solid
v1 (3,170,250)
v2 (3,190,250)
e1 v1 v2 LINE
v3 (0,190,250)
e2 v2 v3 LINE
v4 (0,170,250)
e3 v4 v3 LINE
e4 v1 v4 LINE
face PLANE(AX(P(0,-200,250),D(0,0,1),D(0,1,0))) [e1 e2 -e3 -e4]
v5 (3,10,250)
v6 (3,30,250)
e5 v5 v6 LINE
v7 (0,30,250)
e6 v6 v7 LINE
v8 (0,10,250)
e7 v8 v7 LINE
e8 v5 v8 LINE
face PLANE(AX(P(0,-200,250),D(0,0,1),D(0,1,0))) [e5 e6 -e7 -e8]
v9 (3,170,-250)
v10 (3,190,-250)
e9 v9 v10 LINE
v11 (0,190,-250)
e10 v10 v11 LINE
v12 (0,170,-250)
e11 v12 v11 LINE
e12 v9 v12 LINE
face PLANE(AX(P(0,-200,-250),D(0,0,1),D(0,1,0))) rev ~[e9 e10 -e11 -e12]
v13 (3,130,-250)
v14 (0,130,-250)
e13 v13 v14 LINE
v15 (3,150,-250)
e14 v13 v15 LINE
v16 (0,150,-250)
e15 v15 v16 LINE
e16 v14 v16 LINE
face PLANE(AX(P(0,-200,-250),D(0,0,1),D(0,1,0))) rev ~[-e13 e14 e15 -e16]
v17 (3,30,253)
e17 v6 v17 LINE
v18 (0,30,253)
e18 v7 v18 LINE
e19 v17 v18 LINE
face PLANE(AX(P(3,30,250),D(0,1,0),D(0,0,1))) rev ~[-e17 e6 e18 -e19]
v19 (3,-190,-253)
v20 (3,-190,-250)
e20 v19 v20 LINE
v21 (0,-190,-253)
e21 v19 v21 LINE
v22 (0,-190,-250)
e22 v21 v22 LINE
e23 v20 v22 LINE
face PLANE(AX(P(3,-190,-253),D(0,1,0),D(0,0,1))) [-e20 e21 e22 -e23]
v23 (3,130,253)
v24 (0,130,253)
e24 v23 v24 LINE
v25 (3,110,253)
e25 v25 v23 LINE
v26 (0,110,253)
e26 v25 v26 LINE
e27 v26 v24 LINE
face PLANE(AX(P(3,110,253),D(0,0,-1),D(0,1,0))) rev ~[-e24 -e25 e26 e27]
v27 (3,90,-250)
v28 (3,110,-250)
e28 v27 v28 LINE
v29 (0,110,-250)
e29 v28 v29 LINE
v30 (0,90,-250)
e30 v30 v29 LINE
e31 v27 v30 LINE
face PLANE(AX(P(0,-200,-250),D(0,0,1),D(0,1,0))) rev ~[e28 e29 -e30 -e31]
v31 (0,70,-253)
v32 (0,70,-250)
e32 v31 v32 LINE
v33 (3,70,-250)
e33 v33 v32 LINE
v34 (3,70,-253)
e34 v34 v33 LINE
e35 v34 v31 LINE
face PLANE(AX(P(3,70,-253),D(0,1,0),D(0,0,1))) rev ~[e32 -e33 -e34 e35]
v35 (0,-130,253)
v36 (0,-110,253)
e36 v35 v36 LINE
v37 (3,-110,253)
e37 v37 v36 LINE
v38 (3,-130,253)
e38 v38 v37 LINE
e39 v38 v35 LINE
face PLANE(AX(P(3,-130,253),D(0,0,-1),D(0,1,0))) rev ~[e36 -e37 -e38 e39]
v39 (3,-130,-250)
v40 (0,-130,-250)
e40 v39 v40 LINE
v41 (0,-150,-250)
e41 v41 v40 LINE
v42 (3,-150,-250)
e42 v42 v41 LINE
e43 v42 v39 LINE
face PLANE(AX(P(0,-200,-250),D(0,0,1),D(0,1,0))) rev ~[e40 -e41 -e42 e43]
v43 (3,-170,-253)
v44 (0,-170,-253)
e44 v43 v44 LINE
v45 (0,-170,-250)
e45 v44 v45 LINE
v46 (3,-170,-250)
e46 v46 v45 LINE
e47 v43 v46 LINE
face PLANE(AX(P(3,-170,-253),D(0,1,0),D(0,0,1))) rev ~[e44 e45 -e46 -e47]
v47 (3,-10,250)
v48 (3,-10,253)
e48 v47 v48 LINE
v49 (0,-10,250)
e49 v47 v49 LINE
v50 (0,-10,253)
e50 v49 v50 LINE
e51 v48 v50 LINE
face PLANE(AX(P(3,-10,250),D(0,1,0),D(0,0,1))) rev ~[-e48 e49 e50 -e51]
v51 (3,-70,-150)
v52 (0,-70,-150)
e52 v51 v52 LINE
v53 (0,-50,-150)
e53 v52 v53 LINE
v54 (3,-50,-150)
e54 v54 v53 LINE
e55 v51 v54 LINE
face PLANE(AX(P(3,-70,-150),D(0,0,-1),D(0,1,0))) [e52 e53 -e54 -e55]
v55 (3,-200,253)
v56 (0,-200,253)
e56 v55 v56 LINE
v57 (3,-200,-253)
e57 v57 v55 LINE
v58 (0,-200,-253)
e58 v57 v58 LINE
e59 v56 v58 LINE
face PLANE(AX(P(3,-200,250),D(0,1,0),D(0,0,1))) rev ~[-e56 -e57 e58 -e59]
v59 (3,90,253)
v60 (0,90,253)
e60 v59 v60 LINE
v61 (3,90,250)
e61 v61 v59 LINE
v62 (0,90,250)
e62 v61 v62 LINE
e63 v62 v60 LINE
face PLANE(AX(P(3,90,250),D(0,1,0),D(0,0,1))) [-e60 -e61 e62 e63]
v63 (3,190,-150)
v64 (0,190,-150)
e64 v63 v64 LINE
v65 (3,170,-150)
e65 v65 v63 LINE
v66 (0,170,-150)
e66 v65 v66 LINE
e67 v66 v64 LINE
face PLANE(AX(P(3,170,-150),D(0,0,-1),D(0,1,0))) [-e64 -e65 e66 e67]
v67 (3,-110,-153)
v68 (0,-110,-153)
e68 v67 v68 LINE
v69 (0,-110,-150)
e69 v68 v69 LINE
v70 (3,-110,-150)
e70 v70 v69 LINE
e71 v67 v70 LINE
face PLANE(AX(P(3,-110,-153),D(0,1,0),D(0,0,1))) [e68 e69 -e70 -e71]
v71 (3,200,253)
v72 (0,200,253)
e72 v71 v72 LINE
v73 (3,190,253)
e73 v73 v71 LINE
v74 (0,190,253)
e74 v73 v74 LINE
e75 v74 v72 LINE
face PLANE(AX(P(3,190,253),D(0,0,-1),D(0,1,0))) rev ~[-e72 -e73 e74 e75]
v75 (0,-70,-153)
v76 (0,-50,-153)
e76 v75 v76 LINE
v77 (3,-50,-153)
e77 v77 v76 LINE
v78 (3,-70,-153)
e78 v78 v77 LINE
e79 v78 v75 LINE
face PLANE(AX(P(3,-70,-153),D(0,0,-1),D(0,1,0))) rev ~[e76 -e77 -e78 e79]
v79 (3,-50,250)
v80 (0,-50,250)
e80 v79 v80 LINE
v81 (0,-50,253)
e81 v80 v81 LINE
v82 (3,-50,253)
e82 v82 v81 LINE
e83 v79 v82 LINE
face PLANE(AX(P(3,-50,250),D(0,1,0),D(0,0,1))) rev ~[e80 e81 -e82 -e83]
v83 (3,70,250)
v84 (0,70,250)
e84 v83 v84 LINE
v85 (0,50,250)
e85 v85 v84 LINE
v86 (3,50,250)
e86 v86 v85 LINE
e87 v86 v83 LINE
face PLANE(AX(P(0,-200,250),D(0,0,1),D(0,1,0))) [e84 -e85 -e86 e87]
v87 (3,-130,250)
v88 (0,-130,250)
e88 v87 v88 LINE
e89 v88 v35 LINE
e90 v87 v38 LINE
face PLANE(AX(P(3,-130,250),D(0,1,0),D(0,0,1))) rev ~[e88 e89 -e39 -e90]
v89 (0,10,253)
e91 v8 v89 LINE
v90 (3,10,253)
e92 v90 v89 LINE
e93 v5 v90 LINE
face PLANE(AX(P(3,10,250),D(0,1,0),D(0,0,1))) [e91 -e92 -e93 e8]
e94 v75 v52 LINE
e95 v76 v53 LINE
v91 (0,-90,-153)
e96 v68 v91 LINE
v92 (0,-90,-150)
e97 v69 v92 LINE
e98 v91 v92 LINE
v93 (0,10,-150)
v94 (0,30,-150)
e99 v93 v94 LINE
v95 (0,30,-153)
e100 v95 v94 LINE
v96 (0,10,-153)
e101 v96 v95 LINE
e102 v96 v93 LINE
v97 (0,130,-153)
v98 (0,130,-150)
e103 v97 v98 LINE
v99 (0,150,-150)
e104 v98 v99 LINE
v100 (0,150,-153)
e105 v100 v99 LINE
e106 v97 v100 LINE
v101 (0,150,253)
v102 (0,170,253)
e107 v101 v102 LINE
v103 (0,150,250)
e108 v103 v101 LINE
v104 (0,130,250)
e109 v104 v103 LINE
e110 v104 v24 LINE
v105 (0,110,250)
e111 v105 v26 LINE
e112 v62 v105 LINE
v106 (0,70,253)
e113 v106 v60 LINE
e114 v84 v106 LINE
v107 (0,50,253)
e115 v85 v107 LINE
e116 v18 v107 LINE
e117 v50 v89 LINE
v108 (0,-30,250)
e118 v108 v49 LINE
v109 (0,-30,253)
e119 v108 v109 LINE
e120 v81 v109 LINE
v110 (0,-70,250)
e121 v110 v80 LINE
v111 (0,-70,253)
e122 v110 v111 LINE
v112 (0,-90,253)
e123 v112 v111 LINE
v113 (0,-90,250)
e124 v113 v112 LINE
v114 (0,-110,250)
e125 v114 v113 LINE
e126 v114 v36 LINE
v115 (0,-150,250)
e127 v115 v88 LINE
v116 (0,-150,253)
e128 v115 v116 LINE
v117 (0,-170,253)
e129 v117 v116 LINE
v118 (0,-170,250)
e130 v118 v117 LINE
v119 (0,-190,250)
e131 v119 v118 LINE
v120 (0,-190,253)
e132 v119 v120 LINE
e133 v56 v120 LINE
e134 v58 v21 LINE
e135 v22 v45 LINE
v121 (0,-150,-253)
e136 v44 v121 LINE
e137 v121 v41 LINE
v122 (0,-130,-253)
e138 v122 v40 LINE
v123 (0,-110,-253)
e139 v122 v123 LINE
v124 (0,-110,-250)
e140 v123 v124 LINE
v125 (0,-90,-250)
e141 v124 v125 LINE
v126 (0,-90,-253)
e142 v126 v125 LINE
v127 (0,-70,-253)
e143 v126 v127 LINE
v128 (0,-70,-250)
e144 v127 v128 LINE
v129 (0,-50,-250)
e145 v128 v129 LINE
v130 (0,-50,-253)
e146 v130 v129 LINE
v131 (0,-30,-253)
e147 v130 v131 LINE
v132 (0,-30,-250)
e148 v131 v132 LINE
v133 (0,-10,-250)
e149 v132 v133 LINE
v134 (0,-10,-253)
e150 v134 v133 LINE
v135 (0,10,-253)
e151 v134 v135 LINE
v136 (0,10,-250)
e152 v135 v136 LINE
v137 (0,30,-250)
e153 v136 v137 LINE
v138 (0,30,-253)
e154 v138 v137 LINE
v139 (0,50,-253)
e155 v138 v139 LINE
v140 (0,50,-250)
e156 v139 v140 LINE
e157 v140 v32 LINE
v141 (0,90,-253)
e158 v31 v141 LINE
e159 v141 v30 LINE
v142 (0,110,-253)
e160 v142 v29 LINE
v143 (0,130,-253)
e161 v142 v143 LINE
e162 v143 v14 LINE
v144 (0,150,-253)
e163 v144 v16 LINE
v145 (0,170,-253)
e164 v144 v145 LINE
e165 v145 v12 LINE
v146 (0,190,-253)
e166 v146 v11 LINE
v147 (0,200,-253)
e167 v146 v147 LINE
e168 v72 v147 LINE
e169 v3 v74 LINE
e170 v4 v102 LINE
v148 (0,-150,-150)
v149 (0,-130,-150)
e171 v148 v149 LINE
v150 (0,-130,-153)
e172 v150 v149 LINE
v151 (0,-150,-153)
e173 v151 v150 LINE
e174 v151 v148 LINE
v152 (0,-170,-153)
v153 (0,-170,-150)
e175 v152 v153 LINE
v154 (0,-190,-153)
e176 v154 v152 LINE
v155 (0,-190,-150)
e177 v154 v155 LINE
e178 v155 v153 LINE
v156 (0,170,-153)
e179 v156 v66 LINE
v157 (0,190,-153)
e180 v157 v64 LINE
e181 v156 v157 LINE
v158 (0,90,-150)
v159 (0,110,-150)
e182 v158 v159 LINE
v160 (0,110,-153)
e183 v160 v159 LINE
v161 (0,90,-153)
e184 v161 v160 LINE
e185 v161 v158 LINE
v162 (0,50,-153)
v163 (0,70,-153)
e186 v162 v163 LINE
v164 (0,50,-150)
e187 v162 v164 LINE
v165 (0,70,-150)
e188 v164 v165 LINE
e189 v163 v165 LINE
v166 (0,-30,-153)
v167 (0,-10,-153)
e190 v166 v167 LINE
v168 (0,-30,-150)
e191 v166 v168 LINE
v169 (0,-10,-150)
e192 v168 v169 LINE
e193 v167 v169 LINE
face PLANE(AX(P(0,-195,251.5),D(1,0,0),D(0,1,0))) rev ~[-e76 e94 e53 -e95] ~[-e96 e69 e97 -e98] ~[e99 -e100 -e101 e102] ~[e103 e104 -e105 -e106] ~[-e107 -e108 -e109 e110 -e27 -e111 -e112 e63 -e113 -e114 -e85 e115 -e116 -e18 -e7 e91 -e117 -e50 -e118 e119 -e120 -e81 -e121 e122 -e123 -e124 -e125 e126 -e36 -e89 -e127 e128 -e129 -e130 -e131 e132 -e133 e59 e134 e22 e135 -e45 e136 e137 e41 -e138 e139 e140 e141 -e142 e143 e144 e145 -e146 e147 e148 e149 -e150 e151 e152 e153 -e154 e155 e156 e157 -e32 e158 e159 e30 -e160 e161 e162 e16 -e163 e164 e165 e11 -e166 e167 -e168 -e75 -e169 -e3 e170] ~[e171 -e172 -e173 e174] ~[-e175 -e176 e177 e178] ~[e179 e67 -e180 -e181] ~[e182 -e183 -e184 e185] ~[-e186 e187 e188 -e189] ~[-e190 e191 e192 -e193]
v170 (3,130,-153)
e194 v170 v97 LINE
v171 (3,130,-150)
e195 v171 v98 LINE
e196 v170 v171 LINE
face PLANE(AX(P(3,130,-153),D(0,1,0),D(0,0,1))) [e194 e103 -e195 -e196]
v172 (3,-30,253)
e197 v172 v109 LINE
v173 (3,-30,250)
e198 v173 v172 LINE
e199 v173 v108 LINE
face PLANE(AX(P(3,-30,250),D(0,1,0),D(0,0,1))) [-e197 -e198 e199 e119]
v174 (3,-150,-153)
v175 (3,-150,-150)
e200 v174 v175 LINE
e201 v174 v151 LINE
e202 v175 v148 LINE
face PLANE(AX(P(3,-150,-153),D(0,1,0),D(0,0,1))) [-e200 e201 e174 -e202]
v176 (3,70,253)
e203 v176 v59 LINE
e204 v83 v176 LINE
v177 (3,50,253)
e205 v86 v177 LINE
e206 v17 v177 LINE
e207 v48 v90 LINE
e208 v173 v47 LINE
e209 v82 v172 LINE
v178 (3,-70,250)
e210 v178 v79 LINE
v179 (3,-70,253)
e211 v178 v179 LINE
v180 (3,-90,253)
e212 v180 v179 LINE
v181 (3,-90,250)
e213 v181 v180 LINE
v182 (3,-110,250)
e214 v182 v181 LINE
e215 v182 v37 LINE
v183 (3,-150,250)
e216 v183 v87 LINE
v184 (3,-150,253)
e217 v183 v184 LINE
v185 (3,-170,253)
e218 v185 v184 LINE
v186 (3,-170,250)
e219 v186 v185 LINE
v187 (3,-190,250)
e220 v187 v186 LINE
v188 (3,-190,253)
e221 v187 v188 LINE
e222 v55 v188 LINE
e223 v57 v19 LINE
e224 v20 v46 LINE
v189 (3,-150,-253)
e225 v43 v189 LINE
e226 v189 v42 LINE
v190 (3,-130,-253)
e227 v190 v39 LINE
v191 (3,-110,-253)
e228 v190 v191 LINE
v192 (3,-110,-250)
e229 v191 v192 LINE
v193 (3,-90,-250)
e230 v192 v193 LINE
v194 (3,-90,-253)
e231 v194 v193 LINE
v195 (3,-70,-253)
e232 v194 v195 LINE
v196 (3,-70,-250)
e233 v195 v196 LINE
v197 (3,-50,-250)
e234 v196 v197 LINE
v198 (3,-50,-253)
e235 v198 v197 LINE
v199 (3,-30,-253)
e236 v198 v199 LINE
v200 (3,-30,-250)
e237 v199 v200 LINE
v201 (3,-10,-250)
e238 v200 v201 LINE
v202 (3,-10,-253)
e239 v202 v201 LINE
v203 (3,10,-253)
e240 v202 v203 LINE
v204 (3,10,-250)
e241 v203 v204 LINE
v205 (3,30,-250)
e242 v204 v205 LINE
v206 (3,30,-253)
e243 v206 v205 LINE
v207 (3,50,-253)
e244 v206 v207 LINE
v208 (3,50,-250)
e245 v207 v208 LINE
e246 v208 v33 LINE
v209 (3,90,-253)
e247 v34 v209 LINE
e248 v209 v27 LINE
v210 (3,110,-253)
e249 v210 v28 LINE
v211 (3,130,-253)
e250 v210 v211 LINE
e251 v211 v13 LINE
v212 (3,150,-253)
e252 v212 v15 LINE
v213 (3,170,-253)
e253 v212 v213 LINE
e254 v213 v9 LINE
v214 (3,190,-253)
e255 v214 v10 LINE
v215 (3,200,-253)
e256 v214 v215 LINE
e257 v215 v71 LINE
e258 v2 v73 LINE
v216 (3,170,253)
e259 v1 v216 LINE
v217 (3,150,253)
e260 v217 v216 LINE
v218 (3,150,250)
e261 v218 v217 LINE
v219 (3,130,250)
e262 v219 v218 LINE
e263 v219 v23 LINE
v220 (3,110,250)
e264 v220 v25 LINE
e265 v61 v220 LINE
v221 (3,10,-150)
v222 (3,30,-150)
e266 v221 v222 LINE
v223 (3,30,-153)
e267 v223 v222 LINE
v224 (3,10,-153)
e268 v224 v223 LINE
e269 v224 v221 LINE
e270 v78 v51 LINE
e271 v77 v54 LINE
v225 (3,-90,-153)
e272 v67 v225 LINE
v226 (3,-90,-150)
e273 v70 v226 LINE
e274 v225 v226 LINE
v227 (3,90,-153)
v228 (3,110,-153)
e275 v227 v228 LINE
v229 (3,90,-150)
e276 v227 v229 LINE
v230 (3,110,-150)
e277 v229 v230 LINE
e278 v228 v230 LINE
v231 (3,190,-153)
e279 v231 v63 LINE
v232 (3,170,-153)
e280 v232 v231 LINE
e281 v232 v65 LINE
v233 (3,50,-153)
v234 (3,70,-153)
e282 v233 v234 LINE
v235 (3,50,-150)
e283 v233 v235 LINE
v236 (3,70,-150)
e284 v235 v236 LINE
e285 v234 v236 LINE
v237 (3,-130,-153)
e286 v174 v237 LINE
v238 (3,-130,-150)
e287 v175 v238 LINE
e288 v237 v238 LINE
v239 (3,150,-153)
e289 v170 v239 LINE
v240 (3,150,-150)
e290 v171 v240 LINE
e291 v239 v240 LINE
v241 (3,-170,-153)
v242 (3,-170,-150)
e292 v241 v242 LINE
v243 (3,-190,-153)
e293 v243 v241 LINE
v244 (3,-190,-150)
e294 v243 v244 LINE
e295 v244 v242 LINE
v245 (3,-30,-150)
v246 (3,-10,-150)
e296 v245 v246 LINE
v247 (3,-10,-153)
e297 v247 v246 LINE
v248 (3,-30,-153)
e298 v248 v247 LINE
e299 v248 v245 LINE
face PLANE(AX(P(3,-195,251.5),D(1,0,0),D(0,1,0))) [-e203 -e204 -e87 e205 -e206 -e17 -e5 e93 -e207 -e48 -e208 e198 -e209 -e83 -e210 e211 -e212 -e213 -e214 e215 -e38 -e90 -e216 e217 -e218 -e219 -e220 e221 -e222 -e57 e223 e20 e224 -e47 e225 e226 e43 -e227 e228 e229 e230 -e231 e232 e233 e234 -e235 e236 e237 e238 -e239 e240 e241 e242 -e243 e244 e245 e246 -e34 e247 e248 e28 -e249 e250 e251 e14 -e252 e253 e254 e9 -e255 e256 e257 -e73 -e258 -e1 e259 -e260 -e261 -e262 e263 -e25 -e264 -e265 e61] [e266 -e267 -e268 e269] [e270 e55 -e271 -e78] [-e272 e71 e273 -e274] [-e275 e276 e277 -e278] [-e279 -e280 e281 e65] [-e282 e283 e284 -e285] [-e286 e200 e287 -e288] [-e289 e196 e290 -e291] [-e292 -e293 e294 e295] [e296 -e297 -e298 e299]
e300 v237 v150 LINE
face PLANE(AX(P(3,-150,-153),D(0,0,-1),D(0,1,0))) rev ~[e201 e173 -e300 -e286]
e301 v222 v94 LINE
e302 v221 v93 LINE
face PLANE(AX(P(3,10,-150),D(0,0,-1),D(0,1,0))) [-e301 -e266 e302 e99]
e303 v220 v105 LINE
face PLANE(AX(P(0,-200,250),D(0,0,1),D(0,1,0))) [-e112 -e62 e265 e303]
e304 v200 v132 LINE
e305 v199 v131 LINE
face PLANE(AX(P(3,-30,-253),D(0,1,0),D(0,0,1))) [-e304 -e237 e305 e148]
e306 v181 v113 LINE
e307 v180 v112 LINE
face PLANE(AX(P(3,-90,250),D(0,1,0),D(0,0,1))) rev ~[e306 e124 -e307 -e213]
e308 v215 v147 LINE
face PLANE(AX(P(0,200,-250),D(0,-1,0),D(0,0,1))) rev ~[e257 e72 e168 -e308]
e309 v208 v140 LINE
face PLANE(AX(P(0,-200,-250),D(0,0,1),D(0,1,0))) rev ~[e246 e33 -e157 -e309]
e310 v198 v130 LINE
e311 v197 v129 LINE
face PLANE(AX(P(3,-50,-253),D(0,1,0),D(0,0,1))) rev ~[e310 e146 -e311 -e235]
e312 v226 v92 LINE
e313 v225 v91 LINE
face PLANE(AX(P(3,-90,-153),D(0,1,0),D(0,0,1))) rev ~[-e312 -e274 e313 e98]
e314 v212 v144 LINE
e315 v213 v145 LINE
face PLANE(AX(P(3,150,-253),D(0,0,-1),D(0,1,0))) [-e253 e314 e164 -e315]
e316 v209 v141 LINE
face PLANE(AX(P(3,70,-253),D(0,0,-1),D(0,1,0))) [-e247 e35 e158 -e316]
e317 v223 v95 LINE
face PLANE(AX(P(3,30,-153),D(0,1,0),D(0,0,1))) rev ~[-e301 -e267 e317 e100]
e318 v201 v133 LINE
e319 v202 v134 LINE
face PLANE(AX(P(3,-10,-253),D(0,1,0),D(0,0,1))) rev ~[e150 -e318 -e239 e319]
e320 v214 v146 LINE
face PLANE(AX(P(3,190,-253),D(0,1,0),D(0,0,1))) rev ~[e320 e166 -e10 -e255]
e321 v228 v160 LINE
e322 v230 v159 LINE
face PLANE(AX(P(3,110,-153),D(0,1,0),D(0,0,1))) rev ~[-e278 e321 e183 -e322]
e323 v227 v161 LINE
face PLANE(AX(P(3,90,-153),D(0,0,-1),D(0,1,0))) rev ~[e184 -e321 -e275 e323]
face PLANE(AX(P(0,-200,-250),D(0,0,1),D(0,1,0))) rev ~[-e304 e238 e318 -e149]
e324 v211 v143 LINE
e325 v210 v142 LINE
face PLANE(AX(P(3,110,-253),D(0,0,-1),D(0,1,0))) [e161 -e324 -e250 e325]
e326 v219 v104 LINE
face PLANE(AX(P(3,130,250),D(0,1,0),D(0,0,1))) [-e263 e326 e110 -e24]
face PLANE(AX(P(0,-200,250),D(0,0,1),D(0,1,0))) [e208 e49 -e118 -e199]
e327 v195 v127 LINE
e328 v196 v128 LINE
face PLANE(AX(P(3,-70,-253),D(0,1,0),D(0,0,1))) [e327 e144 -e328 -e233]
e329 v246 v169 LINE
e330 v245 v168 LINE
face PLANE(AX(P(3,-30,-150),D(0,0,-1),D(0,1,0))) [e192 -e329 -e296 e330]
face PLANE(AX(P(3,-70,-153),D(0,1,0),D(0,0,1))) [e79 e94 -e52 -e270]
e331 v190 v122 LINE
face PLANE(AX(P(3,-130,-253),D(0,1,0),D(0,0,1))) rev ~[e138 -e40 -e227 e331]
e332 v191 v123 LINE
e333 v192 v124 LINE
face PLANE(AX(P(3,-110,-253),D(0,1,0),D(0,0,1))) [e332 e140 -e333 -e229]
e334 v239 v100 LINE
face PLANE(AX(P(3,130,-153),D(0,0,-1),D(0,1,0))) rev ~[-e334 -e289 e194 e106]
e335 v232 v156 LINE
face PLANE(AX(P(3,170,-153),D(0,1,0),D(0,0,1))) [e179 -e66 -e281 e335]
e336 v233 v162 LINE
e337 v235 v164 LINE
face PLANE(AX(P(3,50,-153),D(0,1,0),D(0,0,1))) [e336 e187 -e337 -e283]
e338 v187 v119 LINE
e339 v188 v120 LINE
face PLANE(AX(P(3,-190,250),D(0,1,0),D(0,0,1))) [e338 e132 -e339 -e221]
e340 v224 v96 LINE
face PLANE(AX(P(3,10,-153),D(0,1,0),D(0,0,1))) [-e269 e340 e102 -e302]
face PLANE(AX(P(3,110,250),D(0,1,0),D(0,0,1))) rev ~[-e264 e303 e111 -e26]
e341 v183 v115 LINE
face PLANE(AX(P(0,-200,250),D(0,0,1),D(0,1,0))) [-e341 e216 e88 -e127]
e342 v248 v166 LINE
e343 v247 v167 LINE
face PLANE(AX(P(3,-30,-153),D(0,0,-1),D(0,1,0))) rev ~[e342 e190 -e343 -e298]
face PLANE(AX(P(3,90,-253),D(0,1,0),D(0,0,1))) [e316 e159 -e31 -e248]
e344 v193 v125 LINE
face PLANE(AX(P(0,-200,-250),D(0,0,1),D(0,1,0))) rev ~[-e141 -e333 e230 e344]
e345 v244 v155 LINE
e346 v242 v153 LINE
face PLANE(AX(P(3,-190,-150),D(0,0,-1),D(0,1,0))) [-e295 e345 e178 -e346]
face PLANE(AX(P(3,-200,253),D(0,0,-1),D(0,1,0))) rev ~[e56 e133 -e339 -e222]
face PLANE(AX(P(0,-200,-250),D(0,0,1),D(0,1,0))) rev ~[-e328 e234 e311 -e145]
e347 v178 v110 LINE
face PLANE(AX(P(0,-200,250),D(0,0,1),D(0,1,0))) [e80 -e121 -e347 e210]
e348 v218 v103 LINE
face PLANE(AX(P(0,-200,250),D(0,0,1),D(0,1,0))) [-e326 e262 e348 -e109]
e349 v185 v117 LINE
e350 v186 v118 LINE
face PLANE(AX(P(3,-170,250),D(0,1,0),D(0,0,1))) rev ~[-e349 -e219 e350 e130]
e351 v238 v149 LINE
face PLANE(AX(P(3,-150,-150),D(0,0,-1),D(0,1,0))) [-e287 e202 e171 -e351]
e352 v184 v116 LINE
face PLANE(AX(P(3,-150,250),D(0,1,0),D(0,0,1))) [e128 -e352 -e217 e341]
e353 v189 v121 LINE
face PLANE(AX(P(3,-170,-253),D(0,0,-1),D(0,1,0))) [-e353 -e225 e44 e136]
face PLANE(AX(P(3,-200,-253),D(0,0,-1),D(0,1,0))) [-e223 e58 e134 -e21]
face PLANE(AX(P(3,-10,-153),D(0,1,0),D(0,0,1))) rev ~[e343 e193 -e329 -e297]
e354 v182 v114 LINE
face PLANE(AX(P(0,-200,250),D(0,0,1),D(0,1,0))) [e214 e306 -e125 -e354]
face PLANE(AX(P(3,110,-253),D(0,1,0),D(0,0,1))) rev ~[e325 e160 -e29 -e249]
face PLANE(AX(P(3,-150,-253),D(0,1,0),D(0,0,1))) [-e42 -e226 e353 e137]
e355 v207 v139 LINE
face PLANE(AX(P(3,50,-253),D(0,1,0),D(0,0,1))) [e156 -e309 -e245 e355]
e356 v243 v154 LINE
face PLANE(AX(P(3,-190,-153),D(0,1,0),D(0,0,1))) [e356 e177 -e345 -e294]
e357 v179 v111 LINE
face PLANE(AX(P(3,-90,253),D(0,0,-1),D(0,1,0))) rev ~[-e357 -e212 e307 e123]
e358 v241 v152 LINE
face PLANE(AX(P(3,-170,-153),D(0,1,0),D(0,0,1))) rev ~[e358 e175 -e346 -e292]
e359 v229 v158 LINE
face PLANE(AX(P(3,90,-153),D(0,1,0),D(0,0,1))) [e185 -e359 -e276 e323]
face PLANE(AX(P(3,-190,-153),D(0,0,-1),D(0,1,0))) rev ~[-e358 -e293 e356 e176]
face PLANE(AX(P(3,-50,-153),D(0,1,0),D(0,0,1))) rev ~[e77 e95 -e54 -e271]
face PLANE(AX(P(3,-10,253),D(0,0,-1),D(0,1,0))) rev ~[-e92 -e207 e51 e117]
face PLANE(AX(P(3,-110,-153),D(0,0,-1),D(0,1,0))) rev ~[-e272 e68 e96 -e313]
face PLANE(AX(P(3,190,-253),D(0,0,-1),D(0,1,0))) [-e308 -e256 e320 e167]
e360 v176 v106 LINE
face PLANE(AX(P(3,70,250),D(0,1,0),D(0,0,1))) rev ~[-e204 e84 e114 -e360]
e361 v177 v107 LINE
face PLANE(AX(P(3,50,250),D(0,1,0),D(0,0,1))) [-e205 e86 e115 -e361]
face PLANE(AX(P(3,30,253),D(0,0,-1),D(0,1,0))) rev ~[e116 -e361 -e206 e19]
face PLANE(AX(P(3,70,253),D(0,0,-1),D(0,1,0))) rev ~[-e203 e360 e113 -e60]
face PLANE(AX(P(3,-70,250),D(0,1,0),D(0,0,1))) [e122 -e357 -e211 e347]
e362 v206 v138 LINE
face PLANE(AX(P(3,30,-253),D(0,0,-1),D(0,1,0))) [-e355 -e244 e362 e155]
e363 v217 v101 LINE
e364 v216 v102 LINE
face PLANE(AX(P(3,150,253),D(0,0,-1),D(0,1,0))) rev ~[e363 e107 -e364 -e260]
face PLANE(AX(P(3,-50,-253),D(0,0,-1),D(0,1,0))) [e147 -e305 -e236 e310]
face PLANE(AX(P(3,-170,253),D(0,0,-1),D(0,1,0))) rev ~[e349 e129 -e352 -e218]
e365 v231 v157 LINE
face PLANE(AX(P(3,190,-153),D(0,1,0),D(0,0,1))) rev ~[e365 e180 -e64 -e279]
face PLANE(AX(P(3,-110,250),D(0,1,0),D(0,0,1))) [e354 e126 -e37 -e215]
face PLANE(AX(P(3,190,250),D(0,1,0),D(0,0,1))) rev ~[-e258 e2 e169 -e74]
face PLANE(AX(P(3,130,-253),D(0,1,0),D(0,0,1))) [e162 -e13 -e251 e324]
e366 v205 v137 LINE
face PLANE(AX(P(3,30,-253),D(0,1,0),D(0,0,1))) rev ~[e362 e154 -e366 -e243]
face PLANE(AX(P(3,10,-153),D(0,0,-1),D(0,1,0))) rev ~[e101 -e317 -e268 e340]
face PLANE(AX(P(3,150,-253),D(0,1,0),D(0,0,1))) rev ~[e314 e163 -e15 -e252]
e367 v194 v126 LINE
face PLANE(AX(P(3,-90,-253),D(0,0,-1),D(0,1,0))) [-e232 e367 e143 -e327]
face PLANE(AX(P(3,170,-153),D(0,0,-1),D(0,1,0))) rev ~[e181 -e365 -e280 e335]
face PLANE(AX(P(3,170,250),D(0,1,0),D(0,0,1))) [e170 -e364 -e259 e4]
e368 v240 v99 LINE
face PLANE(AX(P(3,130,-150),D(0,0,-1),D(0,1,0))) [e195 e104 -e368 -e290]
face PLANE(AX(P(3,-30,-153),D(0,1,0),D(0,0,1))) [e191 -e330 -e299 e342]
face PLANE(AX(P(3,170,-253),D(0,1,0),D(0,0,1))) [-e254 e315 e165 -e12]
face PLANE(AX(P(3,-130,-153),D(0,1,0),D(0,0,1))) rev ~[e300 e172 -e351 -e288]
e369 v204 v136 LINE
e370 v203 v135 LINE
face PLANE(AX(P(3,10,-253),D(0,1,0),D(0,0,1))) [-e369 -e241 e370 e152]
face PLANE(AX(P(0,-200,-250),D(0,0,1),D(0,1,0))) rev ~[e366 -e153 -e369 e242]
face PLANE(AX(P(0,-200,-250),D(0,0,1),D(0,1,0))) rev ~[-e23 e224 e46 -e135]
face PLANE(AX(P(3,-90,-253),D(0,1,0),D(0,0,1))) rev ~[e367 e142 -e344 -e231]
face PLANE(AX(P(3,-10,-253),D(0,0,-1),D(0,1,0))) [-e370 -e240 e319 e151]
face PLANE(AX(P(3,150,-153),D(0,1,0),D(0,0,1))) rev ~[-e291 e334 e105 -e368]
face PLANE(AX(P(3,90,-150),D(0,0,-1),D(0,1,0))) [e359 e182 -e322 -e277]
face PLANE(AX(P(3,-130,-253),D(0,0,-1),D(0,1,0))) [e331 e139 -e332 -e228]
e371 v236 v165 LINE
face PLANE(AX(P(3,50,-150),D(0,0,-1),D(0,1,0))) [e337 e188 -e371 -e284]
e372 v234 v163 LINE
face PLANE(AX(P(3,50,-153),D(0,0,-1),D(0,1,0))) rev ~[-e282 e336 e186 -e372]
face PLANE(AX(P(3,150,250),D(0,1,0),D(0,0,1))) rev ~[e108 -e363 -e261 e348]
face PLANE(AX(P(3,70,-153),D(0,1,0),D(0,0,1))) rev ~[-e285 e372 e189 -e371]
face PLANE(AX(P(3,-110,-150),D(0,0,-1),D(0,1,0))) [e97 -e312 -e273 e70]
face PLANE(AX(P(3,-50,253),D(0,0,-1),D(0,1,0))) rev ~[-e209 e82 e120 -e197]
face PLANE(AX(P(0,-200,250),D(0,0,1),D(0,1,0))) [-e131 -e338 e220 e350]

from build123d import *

# Parameters (mm, degrees)
F0_W     = 400
F0_H     = 500
F1_DEPTH = 3
F2_W     = 10
F2_H     = 3
F2_W_2   = 20
F3_DEPTH = 3
F4_W     = 20
F4_H     = 3
F5_DEPTH = 25


with BuildPart() as f1:
    # F0 (on Right) → F1 (new body)
    with BuildSketch(Plane.YZ):
        Rectangle(F0_W, F0_H)
    extrude(amount=F1_DEPTH)

    # F2 (on face) → F3 (join, through all)
    with BuildSketch(Plane.YZ.offset(3)):
        with Locations((-195, 251.5)):
            Rectangle(F2_W, F2_H)
        with Locations((-160, 251.5)):
            Rectangle(F2_W_2, F2_H)
        with Locations((-120, 251.5)):
            Rectangle(F2_W_2, F2_H)
        with Locations((-80, 251.5)):
            Rectangle(F2_W_2, F2_H)
        with Locations((-40, 251.5)):
            Rectangle(F2_W_2, F2_H)
        with Locations((0, 251.5)):
            Rectangle(F2_W_2, F2_H)
        with Locations((40, 251.5)):
            Rectangle(F2_W_2, F2_H)
        with Locations((80, 251.5)):
            Rectangle(F2_W_2, F2_H)
        with Locations((120, 251.5)):
            Rectangle(F2_W_2, F2_H)
        with Locations((160, 251.5)):
            Rectangle(F2_W_2, F2_H)
        with Locations((195, 251.5)):
            Rectangle(F2_W, F2_H)
        with Locations((-120, -251.5)):
            Rectangle(F2_W_2, F2_H)
        with Locations((-160, -251.5)):
            Rectangle(F2_W_2, F2_H)
        with Locations((-80, -251.5)):
            Rectangle(F2_W_2, F2_H)
        with Locations((0, -251.5)):
            Rectangle(F2_W_2, F2_H)
        with Locations((160, -251.5)):
            Rectangle(F2_W_2, F2_H)
        with Locations((80, -251.5)):
            Rectangle(F2_W_2, F2_H)
        with Locations((195, -251.5)):
            Rectangle(F2_W, F2_H)
        with Locations((40, -251.5)):
            Rectangle(F2_W_2, F2_H)
        with Locations((-195, -251.5)):
            Rectangle(F2_W, F2_H)
        with Locations((-40, -251.5)):
            Rectangle(F2_W_2, F2_H)
        with Locations((120, -251.5)):
            Rectangle(F2_W_2, F2_H)
    extrude(amount=-F3_DEPTH)

    # F4 (on face) → F5 (cut)
    with BuildSketch(Plane.YZ.offset(3)):
        with Locations((-180, -151.5)):
            Rectangle(F4_W, F4_H)
        with Locations((-140, -151.5)):
            Rectangle(F4_W, F4_H)
        with Locations((-100, -151.5)):
            Rectangle(F4_W, F4_H)
        with Locations((-60, -151.5)):
            Rectangle(F4_W, F4_H)
        with Locations((-20, -151.5)):
            Rectangle(F4_W, F4_H)
        with Locations((20, -151.5)):
            Rectangle(F4_W, F4_H)
        with Locations((60, -151.5)):
            Rectangle(F4_W, F4_H)
        with Locations((100, -151.5)):
            Rectangle(F4_W, F4_H)
        with Locations((140, -151.5)):
            Rectangle(F4_W, F4_H)
        with Locations((180, -151.5)):
            Rectangle(F4_W, F4_H)
    extrude(amount=-F5_DEPTH, mode=Mode.SUBTRACT)


solid = f1.part
